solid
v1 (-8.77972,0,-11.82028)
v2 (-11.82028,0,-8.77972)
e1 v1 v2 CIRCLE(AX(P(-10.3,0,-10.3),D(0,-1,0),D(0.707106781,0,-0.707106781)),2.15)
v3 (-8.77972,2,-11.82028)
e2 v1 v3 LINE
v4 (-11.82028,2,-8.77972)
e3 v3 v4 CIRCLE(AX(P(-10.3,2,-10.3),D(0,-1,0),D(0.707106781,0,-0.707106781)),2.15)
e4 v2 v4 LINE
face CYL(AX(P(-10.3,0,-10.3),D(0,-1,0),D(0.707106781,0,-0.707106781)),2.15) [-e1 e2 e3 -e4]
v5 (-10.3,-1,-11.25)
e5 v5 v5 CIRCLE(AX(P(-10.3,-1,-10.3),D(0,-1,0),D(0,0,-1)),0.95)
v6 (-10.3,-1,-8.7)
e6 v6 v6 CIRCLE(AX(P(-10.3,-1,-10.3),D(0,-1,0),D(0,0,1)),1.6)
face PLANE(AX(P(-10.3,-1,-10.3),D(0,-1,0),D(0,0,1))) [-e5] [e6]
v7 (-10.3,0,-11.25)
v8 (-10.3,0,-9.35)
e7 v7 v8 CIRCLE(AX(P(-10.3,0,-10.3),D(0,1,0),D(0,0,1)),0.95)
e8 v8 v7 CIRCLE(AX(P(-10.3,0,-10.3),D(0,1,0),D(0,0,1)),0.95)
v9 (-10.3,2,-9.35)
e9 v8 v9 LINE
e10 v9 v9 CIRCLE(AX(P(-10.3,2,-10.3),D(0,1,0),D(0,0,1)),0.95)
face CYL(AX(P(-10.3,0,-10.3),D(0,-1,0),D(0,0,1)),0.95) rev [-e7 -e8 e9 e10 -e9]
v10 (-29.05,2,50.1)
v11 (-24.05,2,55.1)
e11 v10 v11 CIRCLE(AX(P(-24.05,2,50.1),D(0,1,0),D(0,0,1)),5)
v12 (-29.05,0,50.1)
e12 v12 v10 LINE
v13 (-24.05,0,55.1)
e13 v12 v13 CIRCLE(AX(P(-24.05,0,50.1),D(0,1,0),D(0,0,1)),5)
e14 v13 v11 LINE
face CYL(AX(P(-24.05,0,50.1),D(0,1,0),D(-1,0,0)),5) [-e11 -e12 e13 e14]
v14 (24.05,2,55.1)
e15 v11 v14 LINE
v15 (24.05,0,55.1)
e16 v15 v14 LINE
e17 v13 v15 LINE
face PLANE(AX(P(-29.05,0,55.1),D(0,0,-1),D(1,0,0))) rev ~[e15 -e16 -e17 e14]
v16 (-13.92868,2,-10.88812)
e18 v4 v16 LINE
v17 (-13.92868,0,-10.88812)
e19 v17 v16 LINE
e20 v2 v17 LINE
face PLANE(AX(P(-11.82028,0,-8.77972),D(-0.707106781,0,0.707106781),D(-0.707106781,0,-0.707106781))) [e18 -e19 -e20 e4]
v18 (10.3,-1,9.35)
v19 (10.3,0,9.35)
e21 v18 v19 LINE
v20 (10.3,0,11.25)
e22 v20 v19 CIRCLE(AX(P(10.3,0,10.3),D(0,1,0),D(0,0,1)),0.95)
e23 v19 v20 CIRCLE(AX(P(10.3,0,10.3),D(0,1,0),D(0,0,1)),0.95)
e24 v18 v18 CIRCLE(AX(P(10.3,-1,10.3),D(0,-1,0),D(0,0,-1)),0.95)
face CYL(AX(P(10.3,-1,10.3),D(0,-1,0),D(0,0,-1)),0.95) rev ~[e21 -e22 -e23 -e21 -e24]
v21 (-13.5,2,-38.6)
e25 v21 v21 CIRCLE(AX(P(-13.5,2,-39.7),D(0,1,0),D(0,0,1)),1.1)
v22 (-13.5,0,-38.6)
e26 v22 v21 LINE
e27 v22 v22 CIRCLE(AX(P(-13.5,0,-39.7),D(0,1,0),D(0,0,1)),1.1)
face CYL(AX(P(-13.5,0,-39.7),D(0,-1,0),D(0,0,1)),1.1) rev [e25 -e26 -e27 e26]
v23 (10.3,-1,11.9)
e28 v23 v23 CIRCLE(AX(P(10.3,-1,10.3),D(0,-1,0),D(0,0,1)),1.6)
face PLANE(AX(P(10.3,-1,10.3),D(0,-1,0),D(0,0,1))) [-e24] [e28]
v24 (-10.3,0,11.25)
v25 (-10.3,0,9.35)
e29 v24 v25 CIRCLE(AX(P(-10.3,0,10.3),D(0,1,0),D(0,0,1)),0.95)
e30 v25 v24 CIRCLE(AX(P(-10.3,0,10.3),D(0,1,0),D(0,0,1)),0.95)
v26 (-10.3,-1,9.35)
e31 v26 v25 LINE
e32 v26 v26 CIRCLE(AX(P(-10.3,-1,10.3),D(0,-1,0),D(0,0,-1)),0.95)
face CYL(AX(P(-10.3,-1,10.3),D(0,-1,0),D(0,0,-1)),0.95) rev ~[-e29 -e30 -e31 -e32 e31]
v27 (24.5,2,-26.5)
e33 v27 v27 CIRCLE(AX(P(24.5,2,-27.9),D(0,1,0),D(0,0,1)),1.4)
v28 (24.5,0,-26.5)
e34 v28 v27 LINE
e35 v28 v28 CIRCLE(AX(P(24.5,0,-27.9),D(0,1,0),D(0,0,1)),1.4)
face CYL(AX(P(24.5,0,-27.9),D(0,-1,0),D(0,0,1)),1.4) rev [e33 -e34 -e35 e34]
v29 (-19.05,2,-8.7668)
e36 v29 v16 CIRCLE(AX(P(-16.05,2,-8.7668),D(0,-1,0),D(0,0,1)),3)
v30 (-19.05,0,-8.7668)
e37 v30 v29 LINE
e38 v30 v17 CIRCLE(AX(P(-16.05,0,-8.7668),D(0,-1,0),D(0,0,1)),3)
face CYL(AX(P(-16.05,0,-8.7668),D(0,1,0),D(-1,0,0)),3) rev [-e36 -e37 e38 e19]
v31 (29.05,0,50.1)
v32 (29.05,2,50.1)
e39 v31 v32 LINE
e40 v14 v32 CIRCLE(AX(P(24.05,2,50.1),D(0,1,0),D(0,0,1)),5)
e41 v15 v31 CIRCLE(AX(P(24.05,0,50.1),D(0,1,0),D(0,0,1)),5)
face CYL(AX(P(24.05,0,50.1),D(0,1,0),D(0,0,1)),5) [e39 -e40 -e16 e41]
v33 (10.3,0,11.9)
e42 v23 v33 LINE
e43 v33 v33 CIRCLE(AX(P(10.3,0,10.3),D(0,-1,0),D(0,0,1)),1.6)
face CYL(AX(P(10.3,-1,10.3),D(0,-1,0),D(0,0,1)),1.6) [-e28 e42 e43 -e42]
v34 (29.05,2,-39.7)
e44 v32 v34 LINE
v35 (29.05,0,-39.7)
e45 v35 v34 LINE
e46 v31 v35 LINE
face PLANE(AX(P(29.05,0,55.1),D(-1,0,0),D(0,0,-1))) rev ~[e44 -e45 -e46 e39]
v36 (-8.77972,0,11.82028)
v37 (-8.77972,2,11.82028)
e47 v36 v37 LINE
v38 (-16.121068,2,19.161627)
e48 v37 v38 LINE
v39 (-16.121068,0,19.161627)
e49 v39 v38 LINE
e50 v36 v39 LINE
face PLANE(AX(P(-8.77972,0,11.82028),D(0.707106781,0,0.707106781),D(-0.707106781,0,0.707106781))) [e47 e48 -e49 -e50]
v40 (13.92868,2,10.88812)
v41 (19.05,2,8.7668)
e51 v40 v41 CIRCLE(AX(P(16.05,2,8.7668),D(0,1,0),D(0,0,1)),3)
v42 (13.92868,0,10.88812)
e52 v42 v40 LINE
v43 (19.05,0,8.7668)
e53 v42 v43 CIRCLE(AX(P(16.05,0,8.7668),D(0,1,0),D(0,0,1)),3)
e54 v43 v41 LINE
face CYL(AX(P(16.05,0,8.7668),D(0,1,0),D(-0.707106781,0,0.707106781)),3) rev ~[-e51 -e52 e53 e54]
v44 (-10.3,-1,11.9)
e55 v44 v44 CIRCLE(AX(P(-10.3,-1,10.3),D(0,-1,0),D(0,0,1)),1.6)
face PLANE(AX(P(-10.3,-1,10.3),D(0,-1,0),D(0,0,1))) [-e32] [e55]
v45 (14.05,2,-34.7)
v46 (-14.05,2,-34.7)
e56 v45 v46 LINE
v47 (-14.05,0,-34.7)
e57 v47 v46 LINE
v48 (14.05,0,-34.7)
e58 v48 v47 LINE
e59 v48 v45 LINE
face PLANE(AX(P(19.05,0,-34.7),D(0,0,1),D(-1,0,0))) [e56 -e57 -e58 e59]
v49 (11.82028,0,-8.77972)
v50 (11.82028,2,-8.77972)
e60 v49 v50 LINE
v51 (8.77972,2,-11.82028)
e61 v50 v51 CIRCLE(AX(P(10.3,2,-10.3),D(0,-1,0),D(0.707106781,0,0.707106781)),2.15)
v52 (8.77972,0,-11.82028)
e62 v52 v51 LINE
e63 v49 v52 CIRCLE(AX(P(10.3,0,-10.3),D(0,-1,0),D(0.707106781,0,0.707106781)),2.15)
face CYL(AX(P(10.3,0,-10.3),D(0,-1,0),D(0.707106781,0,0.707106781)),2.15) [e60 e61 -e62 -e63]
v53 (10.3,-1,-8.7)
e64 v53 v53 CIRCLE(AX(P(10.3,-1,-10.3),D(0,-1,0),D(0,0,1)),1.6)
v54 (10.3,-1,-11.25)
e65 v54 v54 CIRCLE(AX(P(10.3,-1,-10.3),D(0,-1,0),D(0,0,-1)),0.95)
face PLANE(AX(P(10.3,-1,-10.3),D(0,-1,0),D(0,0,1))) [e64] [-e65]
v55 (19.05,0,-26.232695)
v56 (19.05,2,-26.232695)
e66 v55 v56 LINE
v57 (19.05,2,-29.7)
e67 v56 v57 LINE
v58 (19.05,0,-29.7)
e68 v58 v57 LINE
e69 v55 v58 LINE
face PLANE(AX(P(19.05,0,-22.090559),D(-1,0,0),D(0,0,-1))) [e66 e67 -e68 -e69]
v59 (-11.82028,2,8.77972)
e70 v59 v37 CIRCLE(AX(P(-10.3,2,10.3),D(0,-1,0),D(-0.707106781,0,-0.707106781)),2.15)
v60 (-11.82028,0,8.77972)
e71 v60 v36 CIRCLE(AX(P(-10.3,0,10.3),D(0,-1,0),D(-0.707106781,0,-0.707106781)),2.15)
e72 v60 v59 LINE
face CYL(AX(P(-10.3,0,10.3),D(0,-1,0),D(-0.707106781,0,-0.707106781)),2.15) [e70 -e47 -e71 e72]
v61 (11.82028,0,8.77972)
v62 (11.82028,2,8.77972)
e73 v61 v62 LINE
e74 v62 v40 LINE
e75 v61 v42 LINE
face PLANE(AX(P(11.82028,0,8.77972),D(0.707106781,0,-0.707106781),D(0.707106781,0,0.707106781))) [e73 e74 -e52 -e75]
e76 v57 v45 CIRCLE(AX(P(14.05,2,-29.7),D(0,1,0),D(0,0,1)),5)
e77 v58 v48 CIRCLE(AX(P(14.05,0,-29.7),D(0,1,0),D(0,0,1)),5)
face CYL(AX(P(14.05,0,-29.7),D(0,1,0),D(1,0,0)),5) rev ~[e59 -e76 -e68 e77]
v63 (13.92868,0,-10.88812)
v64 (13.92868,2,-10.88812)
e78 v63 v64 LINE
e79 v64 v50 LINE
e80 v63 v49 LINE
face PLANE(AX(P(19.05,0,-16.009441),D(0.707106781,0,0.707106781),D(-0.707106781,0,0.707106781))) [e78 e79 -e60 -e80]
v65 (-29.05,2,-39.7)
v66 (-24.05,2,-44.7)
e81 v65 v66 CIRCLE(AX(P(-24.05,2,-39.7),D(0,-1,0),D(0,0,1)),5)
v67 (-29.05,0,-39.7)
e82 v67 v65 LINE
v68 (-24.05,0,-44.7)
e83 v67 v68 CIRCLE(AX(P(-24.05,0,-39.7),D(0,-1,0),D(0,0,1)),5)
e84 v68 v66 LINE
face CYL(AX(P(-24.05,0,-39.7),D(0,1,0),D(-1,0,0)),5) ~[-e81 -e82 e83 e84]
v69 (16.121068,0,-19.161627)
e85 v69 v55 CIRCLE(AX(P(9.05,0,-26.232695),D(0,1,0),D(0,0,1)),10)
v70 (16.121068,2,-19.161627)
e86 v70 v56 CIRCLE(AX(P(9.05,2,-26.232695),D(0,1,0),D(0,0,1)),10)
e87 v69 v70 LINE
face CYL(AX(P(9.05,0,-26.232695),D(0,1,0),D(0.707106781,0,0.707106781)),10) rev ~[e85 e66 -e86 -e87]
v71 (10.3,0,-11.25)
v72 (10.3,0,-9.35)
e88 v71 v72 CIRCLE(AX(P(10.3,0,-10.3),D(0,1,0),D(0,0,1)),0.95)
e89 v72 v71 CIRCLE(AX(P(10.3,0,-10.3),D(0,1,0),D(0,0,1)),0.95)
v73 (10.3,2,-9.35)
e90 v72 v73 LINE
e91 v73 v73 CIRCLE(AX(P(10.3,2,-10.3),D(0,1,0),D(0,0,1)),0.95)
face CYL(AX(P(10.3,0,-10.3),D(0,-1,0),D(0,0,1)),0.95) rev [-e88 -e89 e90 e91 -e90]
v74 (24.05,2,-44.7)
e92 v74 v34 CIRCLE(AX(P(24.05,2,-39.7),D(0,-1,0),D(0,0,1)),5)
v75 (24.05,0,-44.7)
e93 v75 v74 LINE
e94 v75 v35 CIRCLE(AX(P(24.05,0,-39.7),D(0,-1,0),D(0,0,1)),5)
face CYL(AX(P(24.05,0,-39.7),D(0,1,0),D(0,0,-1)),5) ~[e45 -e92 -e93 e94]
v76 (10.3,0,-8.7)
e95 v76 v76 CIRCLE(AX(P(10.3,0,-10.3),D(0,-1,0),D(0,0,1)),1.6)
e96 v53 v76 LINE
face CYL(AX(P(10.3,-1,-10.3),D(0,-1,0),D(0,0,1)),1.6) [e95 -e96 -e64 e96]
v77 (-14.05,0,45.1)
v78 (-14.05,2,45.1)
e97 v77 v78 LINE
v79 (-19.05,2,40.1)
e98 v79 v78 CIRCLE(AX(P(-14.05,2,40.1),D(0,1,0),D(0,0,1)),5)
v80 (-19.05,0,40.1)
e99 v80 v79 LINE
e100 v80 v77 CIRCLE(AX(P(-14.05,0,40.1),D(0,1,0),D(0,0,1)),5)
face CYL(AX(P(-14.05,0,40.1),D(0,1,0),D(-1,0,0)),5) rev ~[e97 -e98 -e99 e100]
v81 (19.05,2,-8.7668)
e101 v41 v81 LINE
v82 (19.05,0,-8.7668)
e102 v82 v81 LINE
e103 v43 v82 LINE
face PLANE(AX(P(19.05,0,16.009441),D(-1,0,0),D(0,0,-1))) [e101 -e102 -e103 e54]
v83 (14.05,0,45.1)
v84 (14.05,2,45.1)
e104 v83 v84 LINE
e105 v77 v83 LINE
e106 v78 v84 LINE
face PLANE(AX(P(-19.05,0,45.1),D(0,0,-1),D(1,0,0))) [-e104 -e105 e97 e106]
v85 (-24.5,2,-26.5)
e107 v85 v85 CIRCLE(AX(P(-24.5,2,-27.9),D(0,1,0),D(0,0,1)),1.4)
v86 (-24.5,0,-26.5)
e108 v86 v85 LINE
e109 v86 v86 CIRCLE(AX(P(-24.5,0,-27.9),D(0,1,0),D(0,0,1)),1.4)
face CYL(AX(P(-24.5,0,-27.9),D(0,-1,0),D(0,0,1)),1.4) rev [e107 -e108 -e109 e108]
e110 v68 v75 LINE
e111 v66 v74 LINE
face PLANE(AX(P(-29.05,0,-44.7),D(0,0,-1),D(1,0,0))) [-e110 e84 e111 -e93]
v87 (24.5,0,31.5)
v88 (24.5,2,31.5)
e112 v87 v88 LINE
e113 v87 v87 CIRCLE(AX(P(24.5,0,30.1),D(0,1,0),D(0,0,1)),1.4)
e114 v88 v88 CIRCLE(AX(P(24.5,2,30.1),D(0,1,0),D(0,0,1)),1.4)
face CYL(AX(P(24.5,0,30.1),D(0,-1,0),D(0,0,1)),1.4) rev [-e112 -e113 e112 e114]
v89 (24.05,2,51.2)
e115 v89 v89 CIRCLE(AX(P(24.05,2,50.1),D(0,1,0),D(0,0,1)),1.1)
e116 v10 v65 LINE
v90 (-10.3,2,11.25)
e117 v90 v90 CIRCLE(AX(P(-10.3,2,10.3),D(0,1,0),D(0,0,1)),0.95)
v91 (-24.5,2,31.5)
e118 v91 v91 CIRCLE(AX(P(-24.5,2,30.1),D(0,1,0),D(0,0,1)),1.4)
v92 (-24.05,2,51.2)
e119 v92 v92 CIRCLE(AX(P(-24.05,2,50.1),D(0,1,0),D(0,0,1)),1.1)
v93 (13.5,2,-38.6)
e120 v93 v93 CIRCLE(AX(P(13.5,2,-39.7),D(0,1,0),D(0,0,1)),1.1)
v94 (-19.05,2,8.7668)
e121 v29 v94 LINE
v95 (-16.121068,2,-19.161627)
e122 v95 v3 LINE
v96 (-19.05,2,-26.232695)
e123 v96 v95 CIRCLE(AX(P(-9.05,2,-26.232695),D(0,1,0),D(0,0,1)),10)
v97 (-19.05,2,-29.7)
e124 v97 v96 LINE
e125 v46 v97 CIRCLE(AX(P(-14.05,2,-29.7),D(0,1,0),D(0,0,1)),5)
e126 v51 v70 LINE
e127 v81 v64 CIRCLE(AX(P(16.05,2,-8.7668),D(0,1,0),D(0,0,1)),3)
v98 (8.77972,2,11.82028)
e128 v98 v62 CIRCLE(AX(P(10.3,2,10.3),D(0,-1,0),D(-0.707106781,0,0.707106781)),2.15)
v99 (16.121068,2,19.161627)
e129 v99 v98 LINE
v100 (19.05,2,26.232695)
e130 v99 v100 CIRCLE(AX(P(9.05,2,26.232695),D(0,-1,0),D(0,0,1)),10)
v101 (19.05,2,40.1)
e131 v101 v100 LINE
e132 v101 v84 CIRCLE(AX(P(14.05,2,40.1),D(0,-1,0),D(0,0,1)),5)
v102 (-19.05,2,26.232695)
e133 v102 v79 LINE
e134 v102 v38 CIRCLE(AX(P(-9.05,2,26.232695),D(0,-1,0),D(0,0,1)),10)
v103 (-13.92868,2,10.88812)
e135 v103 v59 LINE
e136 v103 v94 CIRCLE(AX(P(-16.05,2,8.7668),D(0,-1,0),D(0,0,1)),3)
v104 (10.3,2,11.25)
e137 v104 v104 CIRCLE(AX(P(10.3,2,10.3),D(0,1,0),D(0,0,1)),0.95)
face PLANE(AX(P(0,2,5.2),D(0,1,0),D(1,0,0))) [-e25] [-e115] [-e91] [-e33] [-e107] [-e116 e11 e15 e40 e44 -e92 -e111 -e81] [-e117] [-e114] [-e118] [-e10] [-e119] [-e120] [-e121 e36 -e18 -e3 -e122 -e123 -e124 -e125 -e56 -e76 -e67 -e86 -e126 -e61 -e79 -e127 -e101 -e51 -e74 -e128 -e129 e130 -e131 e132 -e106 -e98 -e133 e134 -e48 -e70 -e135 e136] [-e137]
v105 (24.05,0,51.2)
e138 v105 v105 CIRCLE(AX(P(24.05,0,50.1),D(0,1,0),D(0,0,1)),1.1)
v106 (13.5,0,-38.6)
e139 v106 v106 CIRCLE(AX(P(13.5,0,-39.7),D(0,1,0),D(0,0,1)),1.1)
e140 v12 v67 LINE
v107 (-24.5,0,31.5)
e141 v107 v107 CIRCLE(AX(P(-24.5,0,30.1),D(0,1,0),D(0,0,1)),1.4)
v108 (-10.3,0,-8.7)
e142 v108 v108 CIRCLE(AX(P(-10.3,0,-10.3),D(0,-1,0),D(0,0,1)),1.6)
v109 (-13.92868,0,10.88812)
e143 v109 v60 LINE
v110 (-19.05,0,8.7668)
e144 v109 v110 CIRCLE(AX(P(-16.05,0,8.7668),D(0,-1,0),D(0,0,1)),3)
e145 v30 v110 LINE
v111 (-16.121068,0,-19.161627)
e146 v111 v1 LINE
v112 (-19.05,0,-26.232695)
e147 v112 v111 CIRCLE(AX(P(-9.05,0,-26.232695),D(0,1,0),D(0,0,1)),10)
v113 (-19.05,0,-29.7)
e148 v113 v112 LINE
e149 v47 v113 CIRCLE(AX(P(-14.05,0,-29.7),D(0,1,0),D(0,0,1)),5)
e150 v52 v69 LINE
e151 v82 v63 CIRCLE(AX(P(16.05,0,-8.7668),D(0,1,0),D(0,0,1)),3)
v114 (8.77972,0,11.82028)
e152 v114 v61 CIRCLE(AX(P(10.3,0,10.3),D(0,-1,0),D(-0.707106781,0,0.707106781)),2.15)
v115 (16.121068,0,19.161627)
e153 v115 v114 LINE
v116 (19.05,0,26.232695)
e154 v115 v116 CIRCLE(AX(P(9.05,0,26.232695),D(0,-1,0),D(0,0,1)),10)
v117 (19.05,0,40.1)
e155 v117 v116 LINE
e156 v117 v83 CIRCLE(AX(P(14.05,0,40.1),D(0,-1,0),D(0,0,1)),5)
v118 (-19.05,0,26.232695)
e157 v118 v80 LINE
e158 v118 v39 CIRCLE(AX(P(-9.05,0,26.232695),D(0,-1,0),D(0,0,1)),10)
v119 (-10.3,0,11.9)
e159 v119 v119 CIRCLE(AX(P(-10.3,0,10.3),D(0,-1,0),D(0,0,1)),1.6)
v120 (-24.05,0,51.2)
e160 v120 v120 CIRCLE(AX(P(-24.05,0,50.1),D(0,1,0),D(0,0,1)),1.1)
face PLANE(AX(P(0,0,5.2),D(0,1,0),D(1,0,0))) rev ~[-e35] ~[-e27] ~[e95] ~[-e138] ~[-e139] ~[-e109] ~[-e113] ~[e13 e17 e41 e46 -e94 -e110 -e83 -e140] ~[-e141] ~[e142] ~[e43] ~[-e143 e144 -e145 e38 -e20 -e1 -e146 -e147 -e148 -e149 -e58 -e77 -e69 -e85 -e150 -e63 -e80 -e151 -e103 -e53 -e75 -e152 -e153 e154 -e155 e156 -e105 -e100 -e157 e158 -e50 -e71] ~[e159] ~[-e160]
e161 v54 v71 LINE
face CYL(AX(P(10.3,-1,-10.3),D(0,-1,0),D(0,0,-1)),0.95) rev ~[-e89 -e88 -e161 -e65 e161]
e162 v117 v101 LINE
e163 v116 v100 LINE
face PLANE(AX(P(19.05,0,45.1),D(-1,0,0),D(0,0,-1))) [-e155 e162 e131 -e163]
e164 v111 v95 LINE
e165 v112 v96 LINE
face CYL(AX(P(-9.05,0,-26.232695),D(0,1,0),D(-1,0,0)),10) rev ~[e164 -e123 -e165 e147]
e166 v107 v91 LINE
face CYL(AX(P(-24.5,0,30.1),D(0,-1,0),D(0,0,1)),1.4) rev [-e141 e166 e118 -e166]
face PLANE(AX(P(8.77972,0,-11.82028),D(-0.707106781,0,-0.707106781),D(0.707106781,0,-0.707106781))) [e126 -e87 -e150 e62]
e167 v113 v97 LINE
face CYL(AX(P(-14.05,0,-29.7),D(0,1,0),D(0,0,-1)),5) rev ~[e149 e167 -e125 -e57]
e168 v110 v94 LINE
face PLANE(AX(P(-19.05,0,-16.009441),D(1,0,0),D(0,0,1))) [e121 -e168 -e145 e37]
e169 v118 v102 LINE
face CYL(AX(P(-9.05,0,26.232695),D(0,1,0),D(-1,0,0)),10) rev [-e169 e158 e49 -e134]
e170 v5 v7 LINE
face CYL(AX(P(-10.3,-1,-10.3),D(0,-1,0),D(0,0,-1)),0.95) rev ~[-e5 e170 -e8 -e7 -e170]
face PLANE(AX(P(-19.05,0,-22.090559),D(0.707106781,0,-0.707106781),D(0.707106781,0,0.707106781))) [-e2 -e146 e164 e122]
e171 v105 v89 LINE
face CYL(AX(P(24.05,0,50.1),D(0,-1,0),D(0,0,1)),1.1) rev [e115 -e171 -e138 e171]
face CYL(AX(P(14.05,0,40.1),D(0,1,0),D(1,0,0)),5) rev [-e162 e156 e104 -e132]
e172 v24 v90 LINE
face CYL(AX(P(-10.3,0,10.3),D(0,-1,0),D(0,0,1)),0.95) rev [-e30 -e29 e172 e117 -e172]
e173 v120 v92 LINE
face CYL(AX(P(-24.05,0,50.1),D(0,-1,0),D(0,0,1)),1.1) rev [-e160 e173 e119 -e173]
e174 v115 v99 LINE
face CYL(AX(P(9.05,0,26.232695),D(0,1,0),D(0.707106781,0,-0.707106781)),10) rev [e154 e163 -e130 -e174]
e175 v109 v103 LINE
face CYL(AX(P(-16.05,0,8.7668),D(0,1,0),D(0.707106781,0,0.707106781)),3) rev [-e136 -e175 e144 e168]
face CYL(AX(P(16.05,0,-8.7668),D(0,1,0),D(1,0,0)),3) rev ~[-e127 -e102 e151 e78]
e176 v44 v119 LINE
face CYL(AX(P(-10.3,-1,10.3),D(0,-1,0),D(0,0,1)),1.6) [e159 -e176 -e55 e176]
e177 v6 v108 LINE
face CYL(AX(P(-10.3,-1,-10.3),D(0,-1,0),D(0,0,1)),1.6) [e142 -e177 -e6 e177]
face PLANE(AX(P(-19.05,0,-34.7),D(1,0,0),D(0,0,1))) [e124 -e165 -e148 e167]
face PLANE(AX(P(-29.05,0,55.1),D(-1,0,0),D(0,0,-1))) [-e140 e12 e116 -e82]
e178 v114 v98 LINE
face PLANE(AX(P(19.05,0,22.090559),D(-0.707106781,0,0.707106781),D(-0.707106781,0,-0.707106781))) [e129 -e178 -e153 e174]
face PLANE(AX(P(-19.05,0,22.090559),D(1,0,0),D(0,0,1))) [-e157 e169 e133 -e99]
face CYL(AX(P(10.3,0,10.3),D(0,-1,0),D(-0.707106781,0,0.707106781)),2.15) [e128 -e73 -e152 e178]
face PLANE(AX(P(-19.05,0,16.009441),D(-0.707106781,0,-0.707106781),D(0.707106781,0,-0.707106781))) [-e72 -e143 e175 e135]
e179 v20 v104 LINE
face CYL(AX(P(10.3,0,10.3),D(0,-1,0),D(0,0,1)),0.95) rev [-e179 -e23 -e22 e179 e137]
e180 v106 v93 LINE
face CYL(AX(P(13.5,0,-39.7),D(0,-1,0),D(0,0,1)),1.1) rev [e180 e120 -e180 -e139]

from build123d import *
from build123d.topology import SkipClean

# Parameters (mm, degrees)
SKETCH3_W           = 58.1
SKETCH3_H           = 99.8
SKETCH3_R           = 1.1
SKETCH3_R_2         = 0.95
SKETCH3_R_3         = 1.4
BOSS_EXTRUDE1_DEPTH = 2
FILLET1_R           = 5
FILLET2_R           = 3
FILLET3_R           = 10
BOSS_EXTRUDE2_START = 1
SKETCH4_R           = 1.6
SKETCH4_R_2         = 0.95
BOSS_EXTRUDE2_DEPTH = 1


with BuildPart() as part:
    # Sketch3 → Boss-Extrude1 (new body)
    with BuildSketch(Plane(origin=(0, 0, 0), x_dir=(1, 0, 0), z_dir=(0, 1, 0))):
        with Locations((0, -5.2)):
            Rectangle(SKETCH3_W, SKETCH3_H)
        with Locations(Location((24.05, -50.1, 0), (0, 0, 270))):
            Circle(SKETCH3_R, mode=Mode.SUBTRACT)
        with Locations(Location((-10.3, -10.3, 0), (0, 0, 270))):
            Circle(SKETCH3_R_2, mode=Mode.SUBTRACT)
        with Locations(Location((13.5, 39.7, 0), (0, 0, 270))):
            Circle(SKETCH3_R, mode=Mode.SUBTRACT)
        with Locations(Location((-13.5, 39.7, 0), (0, 0, 270))):
            Circle(SKETCH3_R, mode=Mode.SUBTRACT)
        with Locations(Location((-24.05, -50.1, 0), (0, 0, 270))):
            Circle(SKETCH3_R, mode=Mode.SUBTRACT)
        with Locations(Location((-24.5, 27.9, 0), (0, 0, 270))):
            Circle(SKETCH3_R_3, mode=Mode.SUBTRACT)
        with Locations(Location((24.5, 27.9, 0), (0, 0, 270))):
            Circle(SKETCH3_R_3, mode=Mode.SUBTRACT)
        with Locations(Location((10.3, 10.3, 0), (0, 0, 270))):
            Circle(SKETCH3_R_2, mode=Mode.SUBTRACT)
        with Locations(Location((10.3, -10.3, 0), (0, 0, 270))):
            Circle(SKETCH3_R_2, mode=Mode.SUBTRACT)
        with Locations(Location((-10.3, 10.3, 0), (0, 0, 270))):
            Circle(SKETCH3_R_2, mode=Mode.SUBTRACT)
        with Locations(Location((-24.5, -30.1, 0), (0, 0, 270))):
            Circle(SKETCH3_R_3, mode=Mode.SUBTRACT)
        with Locations(Location((24.5, -30.1, 0), (0, 0, 270))):
            Circle(SKETCH3_R_3, mode=Mode.SUBTRACT)
        with BuildLine():
            Line((19.05, -45.1), (19.05, -22.090559159))
            Line((19.05, -22.090559159), (8.77972042, -11.82027958))
            ThreePointArc((8.77972042, -11.82027958), (8.77972042, -8.77972042), (11.82027958, -8.77972042))
            Line((11.82027958, -8.77972042), (19.05, -16.009440841))
            Line((19.05, -16.009440841), (19.05, 16.009440841))
            Line((19.05, 16.009440841), (11.82027958, 8.77972042))
            ThreePointArc((11.82027958, 8.77972042), (8.77972042, 8.77972042), (8.77972042, 11.82027958))
            Line((8.77972042, 11.82027958), (19.05, 22.090559159))
            Line((19.05, 22.090559159), (19.05, 34.7))
            Line((19.05, 34.7), (-19.05, 34.7))
            Line((-19.05, 34.7), (-19.05, 22.090559159))
            Line((-19.05, 22.090559159), (-8.77972042, 11.82027958))
            ThreePointArc((-8.77972042, 11.82027958), (-8.77972042, 8.77972042), (-11.82027958, 8.77972042))
            Line((-11.82027958, 8.77972042), (-19.05, 16.009440841))
            Line((-19.05, 16.009440841), (-19.05, -16.009440841))
            Line((-19.05, -16.009440841), (-11.82027958, -8.77972042))
            ThreePointArc((-11.82027958, -8.77972042), (-8.77972042, -8.77972042), (-8.77972042, -11.82027958))
            Line((-8.77972042, -11.82027958), (-19.05, -22.090559159))
            Line((-19.05, -22.090559159), (-19.05, -45.1))
            Line((-19.05, -45.1), (19.05, -45.1))
        make_face(mode=Mode.SUBTRACT)
    extrude(amount=BOSS_EXTRUDE1_DEPTH)

    # Fillet1
    fillet1_edges = [part.edges().sort_by_distance(p)[0] for p in [
        (19.05, 1, -34.7),
        (-19.05, 1, -34.7),
        (-19.05, 1, 45.1),
        (19.05, 1, 45.1),
        (29.05, 1, -44.7),
        (29.05, 1, 55.1),
        (-29.05, 1, 55.1),
        (-29.05, 1, -44.7),
    ]]
    fillet(fillet1_edges, radius=FILLET1_R)

    # Fillet2
    fillet2_edges = [part.edges().sort_by_distance(p)[0] for p in [
        (-19.05, 1, -16.009440841),
        (-19.05, 1, 16.009440841),
        (19.05, 1, 16.009440841),
        (19.05, 1, -16.009440841),
    ]]
    fillet(fillet2_edges, radius=FILLET2_R)

    # Fillet3
    fillet3_edges = [part.edges().sort_by_distance(p)[0] for p in [
        (19.05, 1, -22.090559159),
        (-19.05, 1, -22.090559159),
        (-19.05, 1, 22.090559159),
        (19.05, 1, 22.090559159),
    ]]
    fillet(fillet3_edges, radius=FILLET3_R)

    # Sketch4 → Boss-Extrude2 (add)
    # profile 1 of 4: a face of its own
    with SkipClean():  # the faces are left unmerged after this step: merging them gives an invalid solid
        with BuildSketch(Plane.XZ.offset(BOSS_EXTRUDE2_START)):
            with Locations(Location((-10.3, 10.3, 0), (0, 0, 90))):
                Circle(SKETCH4_R)
            with Locations(Location((-10.3, 10.3, 0), (0, 0, 270))):
                Circle(SKETCH4_R_2, mode=Mode.SUBTRACT)
        # profile 2 of 4: a face of its own
        with BuildSketch(Plane.XZ.offset(BOSS_EXTRUDE2_START)):
            with Locations(Location((10.3, 10.3, 0), (0, 0, 90))):
                Circle(SKETCH4_R)
            with Locations(Location((10.3, 10.3, 0), (0, 0, 270))):
                Circle(SKETCH4_R_2, mode=Mode.SUBTRACT)
        # profile 3 of 4: a face of its own
        with BuildSketch(Plane.XZ.offset(BOSS_EXTRUDE2_START)):
            with Locations(Location((10.3, -10.3, 0), (0, 0, 90))):
                Circle(SKETCH4_R)
            with Locations(Location((10.3, -10.3, 0), (0, 0, 270))):
                Circle(SKETCH4_R_2, mode=Mode.SUBTRACT)
        # profile 4 of 4: a face of its own
        with BuildSketch(Plane.XZ.offset(BOSS_EXTRUDE2_START)):
            with Locations(Location((-10.3, -10.3, 0), (0, 0, 90))):
                Circle(SKETCH4_R)
            with Locations(Location((-10.3, -10.3, 0), (0, 0, 270))):
                Circle(SKETCH4_R_2, mode=Mode.SUBTRACT)
        extrude(amount=-BOSS_EXTRUDE2_DEPTH)


solid = part.part
